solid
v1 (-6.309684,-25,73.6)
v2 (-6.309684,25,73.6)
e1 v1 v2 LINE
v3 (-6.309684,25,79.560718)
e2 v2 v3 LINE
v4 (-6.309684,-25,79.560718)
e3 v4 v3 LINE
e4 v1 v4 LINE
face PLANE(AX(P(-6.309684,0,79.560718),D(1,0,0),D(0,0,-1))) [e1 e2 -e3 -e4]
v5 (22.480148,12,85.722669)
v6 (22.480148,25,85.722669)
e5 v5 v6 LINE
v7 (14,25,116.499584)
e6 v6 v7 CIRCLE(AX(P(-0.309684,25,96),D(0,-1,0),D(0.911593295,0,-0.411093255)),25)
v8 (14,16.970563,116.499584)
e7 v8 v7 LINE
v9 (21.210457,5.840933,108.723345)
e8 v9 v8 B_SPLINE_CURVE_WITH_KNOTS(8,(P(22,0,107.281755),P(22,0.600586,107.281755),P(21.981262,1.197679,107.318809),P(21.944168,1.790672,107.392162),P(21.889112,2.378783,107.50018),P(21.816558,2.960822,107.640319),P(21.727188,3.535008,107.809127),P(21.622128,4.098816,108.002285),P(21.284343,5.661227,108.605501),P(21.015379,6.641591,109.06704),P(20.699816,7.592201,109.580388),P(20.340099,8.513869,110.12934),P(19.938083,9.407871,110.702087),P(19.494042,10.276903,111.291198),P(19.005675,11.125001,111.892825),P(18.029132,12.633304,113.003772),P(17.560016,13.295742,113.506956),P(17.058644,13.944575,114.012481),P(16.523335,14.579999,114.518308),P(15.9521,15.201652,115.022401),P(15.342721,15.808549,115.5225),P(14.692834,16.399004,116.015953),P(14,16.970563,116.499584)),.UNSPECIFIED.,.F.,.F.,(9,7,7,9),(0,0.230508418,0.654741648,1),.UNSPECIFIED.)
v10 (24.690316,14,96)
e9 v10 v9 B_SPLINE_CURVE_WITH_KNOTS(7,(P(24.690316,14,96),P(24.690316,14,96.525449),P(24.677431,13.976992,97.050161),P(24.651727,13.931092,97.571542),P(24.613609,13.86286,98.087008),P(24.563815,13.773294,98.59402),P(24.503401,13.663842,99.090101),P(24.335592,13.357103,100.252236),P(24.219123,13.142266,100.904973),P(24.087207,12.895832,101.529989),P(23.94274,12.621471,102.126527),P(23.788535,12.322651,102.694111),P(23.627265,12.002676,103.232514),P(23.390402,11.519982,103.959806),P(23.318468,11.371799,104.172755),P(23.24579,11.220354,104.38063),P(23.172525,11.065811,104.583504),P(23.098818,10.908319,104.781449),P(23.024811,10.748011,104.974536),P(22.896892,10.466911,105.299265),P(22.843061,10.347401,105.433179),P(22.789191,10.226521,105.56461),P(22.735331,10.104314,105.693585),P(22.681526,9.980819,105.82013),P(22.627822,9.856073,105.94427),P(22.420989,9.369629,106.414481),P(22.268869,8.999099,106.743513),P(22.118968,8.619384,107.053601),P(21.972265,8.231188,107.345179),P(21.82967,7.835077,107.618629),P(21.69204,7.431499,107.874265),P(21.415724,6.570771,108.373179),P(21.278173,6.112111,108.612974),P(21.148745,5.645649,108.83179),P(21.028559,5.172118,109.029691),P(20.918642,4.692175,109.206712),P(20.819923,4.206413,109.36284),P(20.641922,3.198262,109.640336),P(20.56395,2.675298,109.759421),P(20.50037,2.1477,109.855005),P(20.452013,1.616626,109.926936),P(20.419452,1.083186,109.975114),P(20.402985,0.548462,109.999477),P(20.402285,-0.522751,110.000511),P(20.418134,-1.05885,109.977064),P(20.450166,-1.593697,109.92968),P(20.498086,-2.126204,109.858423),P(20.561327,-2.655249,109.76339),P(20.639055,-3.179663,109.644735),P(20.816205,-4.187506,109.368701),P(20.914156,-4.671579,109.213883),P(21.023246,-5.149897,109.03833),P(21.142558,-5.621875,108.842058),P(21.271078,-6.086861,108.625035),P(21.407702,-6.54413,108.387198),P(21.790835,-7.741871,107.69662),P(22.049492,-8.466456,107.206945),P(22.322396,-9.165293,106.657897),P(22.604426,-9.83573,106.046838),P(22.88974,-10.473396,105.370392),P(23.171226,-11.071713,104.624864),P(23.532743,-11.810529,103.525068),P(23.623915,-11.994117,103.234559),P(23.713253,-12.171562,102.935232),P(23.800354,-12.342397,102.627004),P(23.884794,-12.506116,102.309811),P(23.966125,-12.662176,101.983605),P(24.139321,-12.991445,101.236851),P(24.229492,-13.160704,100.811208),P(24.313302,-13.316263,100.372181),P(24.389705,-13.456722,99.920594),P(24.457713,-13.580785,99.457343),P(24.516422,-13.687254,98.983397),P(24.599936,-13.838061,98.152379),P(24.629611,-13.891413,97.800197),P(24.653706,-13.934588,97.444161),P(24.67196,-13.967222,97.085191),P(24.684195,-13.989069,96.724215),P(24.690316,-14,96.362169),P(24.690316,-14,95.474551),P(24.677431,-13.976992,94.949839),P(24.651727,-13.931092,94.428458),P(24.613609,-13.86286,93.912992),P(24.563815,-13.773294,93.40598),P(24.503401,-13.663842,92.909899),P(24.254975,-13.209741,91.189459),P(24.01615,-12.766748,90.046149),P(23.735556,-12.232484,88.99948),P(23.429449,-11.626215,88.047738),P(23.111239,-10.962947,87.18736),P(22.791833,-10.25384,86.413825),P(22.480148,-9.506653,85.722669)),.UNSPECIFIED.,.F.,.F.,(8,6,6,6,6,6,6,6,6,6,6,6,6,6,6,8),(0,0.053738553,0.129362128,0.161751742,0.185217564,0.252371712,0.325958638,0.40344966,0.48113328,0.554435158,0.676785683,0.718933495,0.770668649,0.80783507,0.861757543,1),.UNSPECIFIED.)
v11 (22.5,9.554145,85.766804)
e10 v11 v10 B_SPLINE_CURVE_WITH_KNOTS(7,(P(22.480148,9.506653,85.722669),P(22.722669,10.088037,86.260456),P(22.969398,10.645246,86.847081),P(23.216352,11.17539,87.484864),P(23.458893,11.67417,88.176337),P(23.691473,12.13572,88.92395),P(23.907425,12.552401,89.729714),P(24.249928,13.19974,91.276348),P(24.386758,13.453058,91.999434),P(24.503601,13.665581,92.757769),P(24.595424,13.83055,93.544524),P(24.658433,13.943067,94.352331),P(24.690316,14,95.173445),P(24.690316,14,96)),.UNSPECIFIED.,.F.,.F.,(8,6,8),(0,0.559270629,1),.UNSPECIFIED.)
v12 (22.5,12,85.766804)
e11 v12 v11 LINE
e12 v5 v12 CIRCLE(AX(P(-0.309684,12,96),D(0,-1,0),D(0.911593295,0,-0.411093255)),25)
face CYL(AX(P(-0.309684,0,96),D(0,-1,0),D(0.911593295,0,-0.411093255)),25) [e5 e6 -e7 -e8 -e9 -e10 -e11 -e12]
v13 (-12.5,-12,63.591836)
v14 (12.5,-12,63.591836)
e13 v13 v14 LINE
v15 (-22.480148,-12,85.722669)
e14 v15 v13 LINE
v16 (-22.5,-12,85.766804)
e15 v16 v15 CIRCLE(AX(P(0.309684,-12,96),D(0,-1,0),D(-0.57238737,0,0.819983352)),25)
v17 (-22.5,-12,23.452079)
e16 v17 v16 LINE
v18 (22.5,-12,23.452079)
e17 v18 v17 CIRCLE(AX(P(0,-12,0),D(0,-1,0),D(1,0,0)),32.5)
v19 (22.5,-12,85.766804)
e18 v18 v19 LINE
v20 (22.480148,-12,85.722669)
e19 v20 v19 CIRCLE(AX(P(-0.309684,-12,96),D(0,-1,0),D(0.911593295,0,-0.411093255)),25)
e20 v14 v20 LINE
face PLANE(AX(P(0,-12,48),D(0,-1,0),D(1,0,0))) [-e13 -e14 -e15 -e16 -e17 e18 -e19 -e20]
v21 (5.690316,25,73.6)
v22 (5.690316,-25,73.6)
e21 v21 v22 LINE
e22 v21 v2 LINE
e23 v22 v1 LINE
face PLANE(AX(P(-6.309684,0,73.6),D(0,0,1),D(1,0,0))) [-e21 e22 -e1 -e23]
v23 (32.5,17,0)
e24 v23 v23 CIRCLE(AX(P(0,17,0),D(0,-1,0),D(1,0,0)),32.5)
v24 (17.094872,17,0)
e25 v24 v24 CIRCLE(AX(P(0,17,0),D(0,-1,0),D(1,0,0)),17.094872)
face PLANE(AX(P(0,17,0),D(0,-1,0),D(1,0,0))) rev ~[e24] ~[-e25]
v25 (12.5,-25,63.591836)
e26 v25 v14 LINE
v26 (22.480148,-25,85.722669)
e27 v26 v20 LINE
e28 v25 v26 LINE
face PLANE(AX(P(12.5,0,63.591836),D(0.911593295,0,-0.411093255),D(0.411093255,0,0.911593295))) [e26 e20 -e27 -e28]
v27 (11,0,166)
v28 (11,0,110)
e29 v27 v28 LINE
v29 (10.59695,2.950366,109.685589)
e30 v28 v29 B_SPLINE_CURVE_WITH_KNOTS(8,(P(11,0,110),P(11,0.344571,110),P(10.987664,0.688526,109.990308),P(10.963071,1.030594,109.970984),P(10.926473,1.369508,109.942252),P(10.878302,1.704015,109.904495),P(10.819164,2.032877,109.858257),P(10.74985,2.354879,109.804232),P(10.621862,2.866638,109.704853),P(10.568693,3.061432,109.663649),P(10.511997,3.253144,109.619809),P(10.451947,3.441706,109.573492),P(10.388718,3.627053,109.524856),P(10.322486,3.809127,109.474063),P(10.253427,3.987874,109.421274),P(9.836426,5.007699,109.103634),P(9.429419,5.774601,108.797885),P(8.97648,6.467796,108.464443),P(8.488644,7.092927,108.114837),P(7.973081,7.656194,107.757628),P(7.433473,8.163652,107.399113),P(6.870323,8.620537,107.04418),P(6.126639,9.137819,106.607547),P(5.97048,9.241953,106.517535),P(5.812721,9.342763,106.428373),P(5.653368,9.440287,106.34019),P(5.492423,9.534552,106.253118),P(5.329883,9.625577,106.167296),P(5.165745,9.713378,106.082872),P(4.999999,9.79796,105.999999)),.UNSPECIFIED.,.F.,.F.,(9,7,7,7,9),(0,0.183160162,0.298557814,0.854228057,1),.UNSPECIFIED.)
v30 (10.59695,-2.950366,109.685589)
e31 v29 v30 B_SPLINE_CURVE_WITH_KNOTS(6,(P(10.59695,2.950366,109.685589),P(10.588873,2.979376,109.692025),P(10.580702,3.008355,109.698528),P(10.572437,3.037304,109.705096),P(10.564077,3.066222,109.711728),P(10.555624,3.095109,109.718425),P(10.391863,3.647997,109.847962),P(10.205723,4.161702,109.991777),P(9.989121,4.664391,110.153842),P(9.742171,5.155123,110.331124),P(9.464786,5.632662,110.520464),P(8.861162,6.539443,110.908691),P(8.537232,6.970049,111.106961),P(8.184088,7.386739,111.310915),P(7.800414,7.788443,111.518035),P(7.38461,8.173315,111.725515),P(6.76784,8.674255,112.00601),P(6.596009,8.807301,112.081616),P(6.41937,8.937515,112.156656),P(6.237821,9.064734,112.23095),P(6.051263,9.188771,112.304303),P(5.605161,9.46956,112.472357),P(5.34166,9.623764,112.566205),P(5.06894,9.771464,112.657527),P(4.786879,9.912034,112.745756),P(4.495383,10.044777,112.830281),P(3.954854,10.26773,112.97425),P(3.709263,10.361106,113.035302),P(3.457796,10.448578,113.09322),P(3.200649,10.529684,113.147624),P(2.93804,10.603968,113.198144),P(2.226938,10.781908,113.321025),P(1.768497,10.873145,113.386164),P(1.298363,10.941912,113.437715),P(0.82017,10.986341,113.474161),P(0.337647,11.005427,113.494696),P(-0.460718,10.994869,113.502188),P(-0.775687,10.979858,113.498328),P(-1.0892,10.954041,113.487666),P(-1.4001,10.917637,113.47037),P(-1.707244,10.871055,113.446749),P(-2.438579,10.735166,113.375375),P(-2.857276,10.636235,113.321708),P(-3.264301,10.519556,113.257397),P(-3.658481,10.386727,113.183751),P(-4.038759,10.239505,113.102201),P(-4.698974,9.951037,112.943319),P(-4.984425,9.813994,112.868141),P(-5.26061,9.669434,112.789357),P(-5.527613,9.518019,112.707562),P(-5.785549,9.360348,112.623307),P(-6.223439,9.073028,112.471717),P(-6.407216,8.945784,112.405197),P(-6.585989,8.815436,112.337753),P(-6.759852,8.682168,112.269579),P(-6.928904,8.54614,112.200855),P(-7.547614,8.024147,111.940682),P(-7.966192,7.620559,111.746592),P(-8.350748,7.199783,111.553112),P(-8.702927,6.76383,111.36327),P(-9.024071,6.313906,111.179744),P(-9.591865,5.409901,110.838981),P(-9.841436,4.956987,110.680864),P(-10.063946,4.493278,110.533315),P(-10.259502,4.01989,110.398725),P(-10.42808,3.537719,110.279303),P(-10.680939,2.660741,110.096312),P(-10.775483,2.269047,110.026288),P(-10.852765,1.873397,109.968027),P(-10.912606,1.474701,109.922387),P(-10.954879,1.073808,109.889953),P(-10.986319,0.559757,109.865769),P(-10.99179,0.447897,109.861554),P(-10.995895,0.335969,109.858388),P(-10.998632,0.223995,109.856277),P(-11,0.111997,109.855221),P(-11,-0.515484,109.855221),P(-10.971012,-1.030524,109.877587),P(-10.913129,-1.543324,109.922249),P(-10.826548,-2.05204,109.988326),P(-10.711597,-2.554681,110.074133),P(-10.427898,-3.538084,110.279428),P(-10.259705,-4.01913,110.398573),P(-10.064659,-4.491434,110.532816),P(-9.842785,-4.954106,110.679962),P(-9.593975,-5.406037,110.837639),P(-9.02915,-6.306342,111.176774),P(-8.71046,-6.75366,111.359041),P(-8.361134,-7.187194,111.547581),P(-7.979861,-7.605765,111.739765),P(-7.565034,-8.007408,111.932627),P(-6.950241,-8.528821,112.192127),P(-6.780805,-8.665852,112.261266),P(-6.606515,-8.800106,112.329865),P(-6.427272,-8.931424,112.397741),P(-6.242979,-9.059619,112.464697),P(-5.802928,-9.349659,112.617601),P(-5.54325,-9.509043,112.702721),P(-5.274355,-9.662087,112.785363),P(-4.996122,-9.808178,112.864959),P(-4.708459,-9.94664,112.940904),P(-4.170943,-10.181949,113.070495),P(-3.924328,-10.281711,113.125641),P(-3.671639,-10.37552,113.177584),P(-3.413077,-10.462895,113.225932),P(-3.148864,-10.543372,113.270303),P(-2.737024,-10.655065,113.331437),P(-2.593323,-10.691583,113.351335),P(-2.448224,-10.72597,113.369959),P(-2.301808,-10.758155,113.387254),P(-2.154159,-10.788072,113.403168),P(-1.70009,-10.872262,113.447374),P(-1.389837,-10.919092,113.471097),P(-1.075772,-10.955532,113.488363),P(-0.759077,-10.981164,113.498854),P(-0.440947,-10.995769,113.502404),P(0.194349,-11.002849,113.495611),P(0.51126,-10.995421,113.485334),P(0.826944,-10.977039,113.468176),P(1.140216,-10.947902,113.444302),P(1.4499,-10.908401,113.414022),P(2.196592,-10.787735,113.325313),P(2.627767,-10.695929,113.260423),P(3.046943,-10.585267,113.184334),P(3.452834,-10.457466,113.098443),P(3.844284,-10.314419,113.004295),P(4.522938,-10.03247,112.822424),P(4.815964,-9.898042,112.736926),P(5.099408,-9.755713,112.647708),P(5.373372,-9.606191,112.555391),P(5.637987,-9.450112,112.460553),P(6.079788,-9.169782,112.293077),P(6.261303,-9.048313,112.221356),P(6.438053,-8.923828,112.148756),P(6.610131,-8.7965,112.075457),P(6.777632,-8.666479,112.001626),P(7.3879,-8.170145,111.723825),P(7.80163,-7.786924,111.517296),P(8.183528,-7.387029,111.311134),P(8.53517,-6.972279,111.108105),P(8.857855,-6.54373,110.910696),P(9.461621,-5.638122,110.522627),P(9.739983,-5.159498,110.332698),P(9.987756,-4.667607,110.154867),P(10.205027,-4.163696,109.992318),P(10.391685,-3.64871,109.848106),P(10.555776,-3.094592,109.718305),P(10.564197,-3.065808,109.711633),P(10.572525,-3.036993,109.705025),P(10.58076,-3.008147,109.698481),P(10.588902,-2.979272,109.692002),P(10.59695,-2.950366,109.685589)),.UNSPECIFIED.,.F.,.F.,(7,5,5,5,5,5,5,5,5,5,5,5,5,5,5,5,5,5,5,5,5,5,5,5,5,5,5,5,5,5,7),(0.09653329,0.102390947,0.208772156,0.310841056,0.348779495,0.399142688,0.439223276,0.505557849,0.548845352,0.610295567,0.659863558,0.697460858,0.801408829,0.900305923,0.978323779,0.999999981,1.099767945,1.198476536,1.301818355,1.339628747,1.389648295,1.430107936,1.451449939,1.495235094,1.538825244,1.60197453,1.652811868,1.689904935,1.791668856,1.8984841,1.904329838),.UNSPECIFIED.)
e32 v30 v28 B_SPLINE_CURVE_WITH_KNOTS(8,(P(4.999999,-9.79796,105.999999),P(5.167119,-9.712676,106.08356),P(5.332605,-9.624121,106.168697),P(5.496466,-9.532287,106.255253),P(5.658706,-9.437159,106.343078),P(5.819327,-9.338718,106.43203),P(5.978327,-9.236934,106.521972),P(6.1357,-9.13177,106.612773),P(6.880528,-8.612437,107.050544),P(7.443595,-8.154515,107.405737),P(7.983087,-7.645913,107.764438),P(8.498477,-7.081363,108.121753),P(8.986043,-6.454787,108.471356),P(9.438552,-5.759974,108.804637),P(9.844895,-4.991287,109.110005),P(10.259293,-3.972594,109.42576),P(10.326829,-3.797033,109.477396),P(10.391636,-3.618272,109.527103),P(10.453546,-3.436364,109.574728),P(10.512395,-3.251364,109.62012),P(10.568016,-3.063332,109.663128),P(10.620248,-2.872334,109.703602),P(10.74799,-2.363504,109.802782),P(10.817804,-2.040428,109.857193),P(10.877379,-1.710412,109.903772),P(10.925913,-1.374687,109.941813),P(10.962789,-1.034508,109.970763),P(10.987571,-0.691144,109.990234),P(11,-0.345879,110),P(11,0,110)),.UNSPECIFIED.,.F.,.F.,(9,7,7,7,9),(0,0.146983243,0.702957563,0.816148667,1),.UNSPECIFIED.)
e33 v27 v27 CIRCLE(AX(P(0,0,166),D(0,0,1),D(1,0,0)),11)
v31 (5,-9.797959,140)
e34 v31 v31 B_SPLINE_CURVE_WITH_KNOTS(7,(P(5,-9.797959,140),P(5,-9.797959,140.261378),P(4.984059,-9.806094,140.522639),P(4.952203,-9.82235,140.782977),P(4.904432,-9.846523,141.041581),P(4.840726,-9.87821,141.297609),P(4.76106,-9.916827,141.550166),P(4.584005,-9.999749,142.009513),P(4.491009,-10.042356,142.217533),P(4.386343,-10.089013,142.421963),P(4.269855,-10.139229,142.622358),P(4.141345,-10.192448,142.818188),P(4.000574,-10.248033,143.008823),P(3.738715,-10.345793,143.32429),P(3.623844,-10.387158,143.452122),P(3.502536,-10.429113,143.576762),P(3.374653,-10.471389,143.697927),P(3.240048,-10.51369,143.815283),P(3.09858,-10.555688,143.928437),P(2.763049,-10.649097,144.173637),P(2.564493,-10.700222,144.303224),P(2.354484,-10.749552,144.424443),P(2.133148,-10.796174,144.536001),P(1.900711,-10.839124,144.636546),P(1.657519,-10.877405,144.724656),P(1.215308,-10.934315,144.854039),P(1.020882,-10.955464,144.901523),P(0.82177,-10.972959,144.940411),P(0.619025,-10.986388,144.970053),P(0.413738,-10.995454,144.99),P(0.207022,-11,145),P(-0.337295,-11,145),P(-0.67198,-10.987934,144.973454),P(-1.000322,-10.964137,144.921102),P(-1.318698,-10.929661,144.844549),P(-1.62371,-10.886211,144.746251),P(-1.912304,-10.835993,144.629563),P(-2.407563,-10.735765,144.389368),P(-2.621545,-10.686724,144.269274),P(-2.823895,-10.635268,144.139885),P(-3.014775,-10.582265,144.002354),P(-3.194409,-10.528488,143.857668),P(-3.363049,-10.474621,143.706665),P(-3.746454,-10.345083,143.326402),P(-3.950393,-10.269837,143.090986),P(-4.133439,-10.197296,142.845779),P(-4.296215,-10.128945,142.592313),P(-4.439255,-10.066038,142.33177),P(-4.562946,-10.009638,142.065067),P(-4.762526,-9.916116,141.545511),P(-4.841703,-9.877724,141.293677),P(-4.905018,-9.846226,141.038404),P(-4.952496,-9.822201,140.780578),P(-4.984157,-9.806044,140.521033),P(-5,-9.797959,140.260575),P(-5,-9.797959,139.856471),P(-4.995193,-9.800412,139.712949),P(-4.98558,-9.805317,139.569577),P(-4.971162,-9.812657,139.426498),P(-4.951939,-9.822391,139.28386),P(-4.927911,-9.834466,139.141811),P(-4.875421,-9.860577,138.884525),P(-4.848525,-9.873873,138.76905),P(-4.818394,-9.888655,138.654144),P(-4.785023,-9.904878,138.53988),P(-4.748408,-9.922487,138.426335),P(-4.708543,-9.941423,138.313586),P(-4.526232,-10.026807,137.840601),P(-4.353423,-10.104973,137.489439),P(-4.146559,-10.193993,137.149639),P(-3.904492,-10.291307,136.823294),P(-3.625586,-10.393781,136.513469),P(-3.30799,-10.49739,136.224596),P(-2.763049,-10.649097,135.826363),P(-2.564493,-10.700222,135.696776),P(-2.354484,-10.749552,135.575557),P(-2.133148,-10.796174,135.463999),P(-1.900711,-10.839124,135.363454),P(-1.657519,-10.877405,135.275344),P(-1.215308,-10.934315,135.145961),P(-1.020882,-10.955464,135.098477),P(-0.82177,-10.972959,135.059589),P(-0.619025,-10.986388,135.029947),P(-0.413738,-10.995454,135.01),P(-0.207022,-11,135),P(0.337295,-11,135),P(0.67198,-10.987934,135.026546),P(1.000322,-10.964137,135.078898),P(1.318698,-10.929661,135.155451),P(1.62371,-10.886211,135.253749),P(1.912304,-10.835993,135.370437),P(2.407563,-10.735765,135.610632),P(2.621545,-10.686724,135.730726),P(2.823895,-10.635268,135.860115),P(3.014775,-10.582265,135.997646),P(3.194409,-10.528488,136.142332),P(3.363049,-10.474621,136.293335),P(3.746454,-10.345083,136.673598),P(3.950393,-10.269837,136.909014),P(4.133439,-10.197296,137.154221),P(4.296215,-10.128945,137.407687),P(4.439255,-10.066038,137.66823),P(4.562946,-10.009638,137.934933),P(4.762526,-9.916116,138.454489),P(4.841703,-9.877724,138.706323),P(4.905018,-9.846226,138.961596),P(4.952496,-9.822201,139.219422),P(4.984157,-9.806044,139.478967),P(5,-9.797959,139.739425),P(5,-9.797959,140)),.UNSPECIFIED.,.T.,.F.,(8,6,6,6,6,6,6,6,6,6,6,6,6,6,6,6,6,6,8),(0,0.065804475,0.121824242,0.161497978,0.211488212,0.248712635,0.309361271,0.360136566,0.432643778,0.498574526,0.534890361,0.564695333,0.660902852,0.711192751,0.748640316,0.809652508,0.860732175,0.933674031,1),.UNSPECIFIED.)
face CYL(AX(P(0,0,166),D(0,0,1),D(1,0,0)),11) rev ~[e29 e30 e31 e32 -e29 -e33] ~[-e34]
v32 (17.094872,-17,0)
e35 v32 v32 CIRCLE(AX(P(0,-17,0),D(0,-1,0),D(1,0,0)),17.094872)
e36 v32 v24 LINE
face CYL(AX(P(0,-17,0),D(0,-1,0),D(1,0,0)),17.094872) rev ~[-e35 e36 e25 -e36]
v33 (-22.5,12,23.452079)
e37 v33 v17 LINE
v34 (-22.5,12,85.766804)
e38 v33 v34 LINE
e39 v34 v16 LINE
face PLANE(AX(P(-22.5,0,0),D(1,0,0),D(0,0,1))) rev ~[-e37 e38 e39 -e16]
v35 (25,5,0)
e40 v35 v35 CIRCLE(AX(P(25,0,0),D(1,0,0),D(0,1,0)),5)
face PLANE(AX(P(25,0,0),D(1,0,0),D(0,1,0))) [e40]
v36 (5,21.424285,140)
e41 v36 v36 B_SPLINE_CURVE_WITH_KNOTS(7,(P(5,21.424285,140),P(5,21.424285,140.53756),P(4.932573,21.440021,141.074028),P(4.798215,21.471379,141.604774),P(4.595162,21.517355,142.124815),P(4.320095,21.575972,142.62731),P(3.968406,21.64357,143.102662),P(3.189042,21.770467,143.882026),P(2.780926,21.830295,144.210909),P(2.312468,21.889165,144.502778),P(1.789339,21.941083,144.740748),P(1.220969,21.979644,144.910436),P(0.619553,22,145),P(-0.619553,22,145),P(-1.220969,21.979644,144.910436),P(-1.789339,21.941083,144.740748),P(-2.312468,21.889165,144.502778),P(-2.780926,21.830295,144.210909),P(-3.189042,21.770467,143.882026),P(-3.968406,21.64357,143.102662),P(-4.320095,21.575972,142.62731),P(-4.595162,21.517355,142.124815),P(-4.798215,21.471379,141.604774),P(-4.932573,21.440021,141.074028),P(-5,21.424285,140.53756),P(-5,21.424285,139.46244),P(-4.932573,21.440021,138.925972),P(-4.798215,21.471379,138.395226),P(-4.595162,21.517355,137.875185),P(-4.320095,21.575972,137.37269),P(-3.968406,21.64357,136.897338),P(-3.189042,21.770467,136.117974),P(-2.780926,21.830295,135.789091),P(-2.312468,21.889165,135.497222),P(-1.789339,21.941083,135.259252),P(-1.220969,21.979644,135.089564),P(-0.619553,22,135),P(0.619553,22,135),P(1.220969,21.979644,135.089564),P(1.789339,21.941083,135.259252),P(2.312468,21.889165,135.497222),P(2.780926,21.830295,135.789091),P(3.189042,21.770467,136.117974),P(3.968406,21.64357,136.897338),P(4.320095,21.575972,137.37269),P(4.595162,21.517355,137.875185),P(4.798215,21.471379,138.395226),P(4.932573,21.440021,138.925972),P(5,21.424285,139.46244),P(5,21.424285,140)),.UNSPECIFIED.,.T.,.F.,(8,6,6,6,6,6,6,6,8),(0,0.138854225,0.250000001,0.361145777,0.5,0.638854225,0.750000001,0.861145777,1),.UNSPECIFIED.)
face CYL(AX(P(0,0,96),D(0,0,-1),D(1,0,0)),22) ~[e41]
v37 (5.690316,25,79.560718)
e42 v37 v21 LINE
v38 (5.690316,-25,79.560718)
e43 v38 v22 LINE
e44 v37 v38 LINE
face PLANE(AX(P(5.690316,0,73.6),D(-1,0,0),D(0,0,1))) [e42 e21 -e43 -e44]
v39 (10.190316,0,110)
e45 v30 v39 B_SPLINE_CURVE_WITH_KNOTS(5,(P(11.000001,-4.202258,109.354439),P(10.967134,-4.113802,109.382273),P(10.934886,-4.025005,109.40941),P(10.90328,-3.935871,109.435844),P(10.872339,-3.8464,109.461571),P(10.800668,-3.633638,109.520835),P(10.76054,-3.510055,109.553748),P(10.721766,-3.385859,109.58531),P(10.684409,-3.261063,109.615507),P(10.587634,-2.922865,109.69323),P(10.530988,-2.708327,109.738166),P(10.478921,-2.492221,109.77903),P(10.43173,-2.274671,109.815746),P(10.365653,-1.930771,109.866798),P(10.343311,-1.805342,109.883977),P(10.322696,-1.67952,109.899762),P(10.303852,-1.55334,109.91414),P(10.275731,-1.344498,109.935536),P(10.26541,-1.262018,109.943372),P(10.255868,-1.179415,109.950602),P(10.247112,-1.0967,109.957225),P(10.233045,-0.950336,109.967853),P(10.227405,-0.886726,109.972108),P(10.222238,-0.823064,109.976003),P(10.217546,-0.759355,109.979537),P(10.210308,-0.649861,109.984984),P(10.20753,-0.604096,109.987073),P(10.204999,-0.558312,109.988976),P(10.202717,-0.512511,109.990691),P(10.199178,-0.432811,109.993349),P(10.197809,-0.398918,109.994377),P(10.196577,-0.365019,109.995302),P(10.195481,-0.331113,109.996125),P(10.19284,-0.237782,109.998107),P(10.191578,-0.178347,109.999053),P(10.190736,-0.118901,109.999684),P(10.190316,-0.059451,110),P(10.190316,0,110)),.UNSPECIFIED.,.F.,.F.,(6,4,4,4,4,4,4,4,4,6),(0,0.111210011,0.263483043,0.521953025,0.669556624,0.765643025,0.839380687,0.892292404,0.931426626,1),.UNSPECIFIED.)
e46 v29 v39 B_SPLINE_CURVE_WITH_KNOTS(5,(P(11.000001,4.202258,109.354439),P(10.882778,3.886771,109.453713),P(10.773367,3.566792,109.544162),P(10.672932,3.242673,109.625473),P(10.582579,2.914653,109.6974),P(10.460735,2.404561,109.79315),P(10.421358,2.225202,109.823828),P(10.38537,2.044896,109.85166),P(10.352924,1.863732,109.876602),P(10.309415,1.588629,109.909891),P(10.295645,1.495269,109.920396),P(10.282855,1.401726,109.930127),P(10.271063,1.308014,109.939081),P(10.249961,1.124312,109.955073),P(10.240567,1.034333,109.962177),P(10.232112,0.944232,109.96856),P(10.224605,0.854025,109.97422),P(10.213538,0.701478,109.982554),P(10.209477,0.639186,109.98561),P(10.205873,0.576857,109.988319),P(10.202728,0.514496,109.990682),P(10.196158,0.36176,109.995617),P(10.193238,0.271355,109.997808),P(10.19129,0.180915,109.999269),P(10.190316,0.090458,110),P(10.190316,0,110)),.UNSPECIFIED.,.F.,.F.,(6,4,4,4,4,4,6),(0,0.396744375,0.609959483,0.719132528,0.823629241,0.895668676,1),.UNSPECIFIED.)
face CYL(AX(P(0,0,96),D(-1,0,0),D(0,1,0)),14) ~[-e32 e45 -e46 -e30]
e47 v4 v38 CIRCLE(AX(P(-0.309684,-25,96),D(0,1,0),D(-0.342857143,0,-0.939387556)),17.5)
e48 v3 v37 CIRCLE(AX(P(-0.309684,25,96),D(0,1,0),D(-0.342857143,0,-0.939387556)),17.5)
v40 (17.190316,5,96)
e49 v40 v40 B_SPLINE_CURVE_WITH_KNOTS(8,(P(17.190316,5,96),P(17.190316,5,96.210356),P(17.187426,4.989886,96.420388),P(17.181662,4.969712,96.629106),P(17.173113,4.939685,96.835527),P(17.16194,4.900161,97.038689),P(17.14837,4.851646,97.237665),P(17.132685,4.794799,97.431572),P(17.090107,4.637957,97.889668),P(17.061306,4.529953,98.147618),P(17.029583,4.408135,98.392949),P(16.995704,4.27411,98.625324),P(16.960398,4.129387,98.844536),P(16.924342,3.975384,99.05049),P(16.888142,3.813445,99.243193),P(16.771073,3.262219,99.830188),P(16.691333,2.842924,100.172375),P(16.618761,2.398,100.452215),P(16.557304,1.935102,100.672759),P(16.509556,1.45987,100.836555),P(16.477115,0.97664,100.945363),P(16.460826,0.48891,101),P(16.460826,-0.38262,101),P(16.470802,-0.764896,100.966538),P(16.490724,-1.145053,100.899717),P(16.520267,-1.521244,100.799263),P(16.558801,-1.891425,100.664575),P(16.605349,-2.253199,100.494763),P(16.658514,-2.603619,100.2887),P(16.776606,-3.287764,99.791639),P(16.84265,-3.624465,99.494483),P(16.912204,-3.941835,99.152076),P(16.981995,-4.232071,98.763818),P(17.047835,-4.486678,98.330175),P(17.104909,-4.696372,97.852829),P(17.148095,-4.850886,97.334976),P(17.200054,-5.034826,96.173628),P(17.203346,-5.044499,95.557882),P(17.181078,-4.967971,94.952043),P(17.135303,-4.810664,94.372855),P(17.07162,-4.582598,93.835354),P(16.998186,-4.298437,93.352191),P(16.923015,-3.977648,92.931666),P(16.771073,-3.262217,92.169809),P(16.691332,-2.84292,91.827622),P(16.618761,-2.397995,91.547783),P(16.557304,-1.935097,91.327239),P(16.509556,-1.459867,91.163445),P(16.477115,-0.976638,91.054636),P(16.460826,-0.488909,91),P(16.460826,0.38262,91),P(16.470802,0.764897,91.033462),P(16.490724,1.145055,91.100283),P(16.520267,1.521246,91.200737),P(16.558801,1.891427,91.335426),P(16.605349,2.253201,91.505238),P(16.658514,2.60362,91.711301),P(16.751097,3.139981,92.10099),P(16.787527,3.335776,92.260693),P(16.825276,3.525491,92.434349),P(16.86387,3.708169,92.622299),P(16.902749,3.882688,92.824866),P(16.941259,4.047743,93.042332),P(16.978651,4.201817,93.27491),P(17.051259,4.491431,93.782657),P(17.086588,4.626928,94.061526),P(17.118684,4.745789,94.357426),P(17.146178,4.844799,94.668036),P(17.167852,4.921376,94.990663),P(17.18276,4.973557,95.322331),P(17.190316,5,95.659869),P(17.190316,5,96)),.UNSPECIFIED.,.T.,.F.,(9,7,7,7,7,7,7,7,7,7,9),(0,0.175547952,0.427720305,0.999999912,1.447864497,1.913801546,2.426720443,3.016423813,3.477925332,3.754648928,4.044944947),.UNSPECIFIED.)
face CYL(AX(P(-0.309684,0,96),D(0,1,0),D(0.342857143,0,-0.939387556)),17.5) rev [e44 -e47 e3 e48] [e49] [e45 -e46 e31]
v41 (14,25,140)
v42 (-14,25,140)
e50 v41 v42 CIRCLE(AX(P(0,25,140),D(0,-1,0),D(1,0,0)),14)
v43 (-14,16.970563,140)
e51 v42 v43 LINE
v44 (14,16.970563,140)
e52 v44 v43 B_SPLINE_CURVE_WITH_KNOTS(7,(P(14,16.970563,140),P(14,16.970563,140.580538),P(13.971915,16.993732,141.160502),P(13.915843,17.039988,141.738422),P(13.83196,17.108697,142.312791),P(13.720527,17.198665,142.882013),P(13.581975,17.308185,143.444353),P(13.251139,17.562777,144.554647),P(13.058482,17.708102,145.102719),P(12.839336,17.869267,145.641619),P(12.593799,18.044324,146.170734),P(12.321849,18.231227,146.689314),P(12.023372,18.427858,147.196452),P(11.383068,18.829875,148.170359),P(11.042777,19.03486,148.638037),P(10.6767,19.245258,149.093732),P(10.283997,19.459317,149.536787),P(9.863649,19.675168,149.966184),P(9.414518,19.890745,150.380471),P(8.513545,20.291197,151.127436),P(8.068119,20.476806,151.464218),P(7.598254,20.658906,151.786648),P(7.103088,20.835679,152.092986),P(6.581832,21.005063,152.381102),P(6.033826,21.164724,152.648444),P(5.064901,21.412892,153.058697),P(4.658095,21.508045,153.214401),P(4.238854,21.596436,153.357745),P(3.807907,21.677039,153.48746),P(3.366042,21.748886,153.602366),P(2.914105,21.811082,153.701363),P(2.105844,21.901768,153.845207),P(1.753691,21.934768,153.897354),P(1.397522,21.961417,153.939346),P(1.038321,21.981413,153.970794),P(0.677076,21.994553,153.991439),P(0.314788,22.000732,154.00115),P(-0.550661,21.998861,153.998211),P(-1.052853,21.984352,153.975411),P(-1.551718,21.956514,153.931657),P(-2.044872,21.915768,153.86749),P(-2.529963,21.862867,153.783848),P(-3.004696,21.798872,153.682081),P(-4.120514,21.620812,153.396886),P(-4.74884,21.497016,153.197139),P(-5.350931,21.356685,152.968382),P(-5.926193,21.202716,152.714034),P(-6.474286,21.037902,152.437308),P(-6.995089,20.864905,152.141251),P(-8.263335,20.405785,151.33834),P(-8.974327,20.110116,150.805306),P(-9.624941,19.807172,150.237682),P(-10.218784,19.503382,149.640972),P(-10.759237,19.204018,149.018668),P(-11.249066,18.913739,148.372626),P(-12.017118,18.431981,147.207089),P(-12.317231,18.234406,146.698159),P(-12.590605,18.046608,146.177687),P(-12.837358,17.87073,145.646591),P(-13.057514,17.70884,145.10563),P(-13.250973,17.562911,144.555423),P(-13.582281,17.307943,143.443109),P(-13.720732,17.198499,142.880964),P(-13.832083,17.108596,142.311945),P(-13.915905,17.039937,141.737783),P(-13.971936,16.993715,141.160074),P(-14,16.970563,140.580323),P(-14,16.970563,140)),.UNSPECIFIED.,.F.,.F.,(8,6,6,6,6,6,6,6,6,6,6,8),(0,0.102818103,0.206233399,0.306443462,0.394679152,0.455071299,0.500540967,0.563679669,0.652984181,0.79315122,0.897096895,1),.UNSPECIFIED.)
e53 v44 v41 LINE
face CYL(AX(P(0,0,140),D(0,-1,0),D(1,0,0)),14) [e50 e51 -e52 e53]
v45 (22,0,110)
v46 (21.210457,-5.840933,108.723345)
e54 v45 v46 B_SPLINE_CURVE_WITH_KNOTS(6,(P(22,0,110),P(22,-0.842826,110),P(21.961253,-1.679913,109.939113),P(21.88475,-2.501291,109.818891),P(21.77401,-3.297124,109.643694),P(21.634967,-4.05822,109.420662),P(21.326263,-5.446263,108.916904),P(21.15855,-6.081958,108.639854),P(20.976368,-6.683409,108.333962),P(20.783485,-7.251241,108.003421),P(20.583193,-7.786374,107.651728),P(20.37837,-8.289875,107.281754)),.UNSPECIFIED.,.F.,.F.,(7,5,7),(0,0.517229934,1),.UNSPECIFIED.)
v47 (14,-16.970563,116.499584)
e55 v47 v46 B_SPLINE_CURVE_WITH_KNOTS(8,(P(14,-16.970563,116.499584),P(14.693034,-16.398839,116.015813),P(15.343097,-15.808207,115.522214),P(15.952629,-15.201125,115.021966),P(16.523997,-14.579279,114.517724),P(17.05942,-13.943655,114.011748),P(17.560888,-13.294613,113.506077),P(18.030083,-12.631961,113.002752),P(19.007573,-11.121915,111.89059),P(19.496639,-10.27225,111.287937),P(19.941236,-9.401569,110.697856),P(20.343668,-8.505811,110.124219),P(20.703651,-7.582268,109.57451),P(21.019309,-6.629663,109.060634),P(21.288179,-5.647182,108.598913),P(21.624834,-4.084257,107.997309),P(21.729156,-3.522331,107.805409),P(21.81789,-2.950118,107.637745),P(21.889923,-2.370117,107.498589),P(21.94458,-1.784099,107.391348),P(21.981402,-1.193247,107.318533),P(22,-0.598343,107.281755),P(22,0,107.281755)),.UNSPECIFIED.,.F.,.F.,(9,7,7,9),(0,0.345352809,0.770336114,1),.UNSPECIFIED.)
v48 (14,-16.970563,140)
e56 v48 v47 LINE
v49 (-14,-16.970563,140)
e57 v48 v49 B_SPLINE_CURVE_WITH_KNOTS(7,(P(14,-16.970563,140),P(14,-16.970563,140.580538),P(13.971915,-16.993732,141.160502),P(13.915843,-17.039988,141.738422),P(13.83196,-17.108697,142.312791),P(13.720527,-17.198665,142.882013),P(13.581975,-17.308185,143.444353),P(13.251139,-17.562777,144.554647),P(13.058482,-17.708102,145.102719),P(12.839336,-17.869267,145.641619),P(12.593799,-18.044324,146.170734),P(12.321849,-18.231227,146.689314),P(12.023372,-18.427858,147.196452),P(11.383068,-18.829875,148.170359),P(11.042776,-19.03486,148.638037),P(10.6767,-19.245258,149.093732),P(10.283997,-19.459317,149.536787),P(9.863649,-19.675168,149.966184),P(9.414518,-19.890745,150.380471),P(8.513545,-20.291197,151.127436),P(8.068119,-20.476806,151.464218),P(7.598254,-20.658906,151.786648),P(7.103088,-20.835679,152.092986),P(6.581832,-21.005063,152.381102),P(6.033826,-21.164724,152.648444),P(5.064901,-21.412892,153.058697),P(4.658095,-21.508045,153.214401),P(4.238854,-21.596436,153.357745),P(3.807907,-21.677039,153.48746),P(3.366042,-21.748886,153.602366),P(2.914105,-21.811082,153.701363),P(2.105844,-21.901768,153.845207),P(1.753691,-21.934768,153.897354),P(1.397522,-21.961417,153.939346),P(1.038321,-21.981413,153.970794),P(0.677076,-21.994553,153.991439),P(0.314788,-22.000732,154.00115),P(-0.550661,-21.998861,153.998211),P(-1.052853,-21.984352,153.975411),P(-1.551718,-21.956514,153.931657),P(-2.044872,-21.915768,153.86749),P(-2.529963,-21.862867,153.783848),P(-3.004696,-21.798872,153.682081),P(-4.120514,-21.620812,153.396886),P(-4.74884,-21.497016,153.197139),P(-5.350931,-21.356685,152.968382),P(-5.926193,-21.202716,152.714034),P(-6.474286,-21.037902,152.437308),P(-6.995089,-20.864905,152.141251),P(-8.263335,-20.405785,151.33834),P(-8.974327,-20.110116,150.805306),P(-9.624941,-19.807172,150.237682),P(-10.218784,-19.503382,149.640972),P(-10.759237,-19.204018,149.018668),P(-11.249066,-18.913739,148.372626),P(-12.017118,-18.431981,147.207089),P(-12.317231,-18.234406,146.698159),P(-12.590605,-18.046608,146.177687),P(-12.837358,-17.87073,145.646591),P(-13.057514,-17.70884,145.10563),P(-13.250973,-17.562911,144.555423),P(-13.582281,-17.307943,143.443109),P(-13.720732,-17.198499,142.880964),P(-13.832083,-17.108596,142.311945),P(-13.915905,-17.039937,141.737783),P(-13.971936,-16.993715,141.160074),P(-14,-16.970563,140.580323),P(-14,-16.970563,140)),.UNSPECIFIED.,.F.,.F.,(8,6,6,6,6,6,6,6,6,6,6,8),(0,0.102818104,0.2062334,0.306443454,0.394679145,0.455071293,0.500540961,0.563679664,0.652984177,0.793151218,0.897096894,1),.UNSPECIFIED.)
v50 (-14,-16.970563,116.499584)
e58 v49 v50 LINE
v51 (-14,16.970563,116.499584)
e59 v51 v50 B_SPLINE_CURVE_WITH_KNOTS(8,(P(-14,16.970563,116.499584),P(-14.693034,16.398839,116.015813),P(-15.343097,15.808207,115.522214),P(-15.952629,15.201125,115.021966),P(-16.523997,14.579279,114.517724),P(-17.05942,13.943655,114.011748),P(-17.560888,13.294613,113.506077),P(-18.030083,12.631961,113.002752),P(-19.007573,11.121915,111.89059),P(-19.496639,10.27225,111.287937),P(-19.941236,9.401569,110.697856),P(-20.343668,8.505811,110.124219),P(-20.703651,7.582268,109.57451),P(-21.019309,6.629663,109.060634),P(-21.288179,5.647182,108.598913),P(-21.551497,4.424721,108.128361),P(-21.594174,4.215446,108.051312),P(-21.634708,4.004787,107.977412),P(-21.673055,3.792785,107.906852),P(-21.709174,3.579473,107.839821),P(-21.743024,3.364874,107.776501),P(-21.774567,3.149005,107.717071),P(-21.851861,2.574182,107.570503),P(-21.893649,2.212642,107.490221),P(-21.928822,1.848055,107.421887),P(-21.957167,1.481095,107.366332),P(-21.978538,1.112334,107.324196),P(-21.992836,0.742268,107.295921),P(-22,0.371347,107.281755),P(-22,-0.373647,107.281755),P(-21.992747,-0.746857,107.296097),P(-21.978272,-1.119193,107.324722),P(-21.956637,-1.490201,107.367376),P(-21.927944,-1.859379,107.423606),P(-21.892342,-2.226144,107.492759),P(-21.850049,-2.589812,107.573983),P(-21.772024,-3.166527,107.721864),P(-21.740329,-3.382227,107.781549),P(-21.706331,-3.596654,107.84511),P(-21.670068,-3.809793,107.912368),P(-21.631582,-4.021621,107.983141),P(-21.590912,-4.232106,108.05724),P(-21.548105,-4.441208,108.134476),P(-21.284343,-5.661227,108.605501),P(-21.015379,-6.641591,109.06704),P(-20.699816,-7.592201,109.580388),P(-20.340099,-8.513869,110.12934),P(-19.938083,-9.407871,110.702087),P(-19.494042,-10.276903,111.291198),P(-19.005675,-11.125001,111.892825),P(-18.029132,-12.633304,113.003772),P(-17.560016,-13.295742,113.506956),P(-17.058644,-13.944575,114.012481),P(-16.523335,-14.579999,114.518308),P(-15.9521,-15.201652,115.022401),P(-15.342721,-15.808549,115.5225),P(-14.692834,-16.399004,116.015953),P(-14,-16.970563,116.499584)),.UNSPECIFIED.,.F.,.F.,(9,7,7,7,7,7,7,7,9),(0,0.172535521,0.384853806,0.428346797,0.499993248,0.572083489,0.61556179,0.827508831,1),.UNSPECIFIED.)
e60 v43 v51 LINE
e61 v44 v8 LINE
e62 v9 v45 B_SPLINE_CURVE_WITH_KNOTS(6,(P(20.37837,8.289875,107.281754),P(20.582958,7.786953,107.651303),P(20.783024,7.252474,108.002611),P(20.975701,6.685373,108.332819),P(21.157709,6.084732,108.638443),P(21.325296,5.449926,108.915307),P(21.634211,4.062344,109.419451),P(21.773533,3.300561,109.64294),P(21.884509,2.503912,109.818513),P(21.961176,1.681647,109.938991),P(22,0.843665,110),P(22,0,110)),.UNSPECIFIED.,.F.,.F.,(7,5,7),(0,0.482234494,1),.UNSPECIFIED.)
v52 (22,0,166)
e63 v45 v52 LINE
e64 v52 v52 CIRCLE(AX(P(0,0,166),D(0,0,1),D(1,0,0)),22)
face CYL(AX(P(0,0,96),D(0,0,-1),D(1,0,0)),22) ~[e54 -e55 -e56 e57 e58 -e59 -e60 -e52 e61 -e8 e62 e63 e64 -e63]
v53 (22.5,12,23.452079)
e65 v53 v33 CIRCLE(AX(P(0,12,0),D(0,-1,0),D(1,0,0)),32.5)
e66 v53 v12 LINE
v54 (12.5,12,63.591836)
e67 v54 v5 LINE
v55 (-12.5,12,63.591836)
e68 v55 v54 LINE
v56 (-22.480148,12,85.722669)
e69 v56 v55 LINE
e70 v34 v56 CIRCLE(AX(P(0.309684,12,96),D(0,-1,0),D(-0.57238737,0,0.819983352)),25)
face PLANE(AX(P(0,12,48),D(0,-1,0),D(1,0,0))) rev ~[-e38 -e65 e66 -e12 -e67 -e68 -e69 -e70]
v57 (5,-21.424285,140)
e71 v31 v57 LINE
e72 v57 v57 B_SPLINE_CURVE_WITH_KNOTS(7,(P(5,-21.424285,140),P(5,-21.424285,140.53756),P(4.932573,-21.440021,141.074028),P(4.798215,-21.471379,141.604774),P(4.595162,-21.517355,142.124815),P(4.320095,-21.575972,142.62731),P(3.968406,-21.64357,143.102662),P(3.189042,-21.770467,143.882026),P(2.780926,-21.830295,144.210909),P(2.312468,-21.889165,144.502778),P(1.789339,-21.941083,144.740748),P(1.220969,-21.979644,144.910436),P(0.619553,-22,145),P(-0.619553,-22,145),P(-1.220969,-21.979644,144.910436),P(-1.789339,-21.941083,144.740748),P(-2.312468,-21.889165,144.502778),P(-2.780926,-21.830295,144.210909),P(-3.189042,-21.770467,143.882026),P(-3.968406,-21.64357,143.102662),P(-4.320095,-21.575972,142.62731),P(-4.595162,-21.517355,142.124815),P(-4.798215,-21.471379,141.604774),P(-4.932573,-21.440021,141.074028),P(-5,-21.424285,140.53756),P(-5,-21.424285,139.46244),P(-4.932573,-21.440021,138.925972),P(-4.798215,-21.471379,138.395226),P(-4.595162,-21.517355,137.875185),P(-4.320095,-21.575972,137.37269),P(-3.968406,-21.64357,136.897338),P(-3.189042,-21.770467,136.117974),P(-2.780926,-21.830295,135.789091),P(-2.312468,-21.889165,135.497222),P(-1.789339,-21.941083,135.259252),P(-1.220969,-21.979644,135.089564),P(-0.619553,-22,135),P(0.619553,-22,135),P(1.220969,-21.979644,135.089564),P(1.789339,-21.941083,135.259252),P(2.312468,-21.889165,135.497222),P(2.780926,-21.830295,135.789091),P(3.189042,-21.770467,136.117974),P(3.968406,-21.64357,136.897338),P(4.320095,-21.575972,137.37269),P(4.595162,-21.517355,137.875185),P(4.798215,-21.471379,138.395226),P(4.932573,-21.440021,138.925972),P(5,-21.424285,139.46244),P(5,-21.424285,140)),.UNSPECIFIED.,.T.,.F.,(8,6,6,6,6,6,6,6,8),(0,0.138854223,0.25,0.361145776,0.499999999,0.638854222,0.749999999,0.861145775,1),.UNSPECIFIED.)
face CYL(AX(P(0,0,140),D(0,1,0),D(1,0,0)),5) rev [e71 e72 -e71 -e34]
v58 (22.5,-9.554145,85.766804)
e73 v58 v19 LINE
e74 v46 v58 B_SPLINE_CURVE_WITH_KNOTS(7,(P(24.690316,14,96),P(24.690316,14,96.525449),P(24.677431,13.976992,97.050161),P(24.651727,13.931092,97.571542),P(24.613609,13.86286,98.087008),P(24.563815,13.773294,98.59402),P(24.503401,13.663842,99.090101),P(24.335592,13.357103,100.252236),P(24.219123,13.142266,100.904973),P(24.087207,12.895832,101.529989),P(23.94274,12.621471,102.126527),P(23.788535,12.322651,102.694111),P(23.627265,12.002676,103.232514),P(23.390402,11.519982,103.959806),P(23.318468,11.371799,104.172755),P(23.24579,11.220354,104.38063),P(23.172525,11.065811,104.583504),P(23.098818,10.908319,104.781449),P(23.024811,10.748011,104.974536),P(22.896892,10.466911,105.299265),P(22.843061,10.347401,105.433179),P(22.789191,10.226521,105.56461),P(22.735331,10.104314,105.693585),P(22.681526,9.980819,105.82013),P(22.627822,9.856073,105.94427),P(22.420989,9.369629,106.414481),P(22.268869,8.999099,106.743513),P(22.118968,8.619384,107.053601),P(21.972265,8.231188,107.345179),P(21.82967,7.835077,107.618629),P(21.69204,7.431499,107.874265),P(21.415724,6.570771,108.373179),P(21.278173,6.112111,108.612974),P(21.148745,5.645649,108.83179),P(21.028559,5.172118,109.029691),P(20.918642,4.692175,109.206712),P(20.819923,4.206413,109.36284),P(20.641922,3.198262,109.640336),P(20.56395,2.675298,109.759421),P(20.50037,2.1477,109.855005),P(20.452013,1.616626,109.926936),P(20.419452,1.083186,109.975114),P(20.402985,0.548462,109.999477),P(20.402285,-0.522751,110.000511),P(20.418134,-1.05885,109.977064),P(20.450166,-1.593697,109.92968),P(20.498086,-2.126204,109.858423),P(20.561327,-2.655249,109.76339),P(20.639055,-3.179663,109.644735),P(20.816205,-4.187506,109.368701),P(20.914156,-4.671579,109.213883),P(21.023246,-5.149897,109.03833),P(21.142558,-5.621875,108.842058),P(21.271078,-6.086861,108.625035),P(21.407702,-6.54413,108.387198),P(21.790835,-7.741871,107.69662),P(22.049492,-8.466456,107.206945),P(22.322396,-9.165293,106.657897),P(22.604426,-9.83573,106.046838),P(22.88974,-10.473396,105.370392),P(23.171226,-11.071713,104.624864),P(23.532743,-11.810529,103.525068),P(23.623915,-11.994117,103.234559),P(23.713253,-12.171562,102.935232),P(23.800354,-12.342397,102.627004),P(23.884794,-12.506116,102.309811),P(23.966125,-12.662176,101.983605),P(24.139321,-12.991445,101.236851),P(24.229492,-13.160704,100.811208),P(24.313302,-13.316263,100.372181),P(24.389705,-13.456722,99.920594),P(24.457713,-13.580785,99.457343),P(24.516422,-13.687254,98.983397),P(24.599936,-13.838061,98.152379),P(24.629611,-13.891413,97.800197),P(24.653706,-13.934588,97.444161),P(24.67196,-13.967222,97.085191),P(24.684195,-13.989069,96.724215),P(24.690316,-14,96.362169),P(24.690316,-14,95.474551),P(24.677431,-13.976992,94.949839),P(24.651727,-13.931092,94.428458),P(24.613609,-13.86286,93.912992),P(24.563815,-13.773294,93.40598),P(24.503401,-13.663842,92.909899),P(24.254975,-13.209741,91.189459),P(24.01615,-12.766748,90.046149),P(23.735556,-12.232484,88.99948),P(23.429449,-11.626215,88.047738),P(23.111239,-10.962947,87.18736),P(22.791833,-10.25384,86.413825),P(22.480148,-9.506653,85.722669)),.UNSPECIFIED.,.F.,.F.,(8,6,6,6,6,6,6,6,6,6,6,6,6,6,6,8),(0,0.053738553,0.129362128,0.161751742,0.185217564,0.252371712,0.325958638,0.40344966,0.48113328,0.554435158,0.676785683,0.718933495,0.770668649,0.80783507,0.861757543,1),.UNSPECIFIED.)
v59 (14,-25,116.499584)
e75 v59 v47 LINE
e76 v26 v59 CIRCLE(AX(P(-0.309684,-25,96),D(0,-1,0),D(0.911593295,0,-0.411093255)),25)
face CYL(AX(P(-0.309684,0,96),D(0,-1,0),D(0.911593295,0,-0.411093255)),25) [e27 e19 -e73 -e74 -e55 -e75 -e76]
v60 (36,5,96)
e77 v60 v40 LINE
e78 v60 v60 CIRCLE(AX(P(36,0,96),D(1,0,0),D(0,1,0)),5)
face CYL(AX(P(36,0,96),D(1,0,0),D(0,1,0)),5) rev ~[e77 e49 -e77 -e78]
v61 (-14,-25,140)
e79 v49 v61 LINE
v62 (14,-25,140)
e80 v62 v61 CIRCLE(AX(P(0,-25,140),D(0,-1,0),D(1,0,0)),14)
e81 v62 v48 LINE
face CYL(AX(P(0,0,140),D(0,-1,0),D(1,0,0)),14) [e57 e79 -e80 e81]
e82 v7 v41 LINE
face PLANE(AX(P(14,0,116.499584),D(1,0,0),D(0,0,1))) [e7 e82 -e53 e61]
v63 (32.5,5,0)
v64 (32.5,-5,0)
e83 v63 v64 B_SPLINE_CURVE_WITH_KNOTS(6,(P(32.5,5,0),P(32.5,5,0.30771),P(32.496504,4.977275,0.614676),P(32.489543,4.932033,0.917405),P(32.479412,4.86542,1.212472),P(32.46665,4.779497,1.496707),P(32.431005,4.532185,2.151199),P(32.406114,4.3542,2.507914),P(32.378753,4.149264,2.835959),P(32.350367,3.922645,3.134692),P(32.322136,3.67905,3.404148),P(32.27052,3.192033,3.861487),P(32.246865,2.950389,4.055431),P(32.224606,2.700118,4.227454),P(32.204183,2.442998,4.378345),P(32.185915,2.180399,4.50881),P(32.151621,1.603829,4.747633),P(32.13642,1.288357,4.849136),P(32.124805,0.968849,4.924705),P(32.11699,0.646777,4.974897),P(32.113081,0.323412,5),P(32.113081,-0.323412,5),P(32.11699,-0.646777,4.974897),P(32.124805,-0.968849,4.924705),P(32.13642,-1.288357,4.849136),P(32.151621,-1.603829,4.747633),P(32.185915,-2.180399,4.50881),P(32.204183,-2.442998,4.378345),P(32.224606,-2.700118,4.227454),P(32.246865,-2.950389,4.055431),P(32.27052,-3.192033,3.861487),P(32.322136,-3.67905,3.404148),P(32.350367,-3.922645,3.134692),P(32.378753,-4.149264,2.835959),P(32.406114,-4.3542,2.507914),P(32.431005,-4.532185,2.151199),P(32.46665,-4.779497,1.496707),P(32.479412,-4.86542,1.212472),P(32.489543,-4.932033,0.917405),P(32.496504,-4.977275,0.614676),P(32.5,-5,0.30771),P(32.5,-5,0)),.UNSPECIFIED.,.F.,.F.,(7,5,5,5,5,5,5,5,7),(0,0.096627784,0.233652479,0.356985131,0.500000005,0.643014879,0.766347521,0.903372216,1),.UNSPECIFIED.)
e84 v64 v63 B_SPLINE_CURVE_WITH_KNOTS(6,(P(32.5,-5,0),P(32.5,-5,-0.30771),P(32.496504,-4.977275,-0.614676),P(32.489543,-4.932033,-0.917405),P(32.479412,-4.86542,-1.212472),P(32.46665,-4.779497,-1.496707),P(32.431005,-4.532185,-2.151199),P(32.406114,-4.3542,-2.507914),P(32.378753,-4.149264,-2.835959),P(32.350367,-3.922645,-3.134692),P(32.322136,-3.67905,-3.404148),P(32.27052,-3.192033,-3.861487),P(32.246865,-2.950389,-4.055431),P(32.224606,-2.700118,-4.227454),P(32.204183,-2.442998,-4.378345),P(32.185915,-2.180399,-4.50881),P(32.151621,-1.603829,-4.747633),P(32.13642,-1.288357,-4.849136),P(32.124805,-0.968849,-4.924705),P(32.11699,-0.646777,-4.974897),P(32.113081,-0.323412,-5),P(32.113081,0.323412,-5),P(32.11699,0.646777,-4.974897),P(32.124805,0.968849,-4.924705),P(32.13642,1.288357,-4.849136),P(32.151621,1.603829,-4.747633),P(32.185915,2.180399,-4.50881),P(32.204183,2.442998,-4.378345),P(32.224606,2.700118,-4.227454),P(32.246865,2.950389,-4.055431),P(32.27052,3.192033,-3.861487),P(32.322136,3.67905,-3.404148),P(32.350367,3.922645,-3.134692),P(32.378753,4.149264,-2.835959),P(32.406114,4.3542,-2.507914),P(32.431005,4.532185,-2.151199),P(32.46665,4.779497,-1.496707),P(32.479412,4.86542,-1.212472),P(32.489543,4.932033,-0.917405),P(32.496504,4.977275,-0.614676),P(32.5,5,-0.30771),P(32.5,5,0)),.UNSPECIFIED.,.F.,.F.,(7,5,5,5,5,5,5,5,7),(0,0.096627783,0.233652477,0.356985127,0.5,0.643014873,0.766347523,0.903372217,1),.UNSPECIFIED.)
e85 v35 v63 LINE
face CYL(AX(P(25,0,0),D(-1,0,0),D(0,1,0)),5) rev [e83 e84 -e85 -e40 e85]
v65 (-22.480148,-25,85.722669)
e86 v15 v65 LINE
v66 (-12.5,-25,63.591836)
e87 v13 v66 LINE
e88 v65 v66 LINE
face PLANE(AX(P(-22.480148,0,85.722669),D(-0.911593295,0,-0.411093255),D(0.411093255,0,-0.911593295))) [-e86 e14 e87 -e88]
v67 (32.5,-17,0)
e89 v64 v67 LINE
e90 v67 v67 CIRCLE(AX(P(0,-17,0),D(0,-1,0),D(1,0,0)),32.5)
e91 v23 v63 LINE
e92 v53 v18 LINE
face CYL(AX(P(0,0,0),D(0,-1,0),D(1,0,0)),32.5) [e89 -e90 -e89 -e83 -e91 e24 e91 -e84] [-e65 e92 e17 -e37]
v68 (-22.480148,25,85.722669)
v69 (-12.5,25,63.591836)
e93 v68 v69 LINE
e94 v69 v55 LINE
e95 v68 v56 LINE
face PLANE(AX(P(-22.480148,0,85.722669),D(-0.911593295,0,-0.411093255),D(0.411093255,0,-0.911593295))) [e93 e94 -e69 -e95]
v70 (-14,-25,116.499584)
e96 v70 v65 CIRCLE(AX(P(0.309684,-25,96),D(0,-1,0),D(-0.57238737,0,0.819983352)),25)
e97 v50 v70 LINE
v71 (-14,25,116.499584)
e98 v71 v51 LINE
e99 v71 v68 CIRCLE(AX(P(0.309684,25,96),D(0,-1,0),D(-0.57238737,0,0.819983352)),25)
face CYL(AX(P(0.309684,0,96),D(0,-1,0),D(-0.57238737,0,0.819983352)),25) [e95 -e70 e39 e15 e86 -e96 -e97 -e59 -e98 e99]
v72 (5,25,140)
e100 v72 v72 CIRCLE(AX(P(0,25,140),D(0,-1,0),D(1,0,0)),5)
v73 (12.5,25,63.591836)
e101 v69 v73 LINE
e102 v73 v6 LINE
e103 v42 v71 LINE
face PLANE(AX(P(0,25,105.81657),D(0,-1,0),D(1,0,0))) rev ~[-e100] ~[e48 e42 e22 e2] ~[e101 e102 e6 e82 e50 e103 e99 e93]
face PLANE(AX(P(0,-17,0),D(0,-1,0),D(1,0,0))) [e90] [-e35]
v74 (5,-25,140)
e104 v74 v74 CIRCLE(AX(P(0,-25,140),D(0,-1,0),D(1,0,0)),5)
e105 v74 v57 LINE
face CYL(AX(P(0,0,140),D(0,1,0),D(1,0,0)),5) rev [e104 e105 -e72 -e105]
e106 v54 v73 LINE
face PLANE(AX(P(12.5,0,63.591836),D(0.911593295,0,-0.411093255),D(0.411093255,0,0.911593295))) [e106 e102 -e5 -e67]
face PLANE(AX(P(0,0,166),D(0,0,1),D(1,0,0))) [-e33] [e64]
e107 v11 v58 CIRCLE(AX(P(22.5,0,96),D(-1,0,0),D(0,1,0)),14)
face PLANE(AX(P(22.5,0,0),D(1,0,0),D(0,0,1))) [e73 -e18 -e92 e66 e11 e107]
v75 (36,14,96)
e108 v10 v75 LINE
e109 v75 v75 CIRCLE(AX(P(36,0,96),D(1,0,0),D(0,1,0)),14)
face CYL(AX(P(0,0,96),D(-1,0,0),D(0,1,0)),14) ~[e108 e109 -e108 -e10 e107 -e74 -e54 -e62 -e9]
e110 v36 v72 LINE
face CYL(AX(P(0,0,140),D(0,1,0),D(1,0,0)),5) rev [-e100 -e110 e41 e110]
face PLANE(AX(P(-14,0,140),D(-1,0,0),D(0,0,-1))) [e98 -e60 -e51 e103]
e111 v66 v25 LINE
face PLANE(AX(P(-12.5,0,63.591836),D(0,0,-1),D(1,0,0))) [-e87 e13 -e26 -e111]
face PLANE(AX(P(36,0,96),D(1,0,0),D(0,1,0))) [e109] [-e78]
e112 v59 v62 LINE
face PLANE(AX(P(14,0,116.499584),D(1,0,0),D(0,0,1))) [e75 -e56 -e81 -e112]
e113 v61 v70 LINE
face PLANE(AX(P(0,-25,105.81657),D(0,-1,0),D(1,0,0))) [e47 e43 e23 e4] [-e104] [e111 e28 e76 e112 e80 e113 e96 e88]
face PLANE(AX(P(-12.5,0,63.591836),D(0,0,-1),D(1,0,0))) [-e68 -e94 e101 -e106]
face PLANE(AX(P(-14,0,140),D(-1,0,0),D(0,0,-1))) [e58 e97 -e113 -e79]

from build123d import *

# Parameters (mm, degrees)
F0_W           = 45
F0_H           = 96
F1_DEPTH       = 12
F2_R           = 32.5
F3_DEPTH       = 17
F4_R           = 5
F5_DEPTH       = 25
F6_R           = 17.0948723133
F7_DEPTH       = 42.001
F9_START       = 25
F8_R           = 5
F9_DEPTH       = 75
F10_R          = 22
F11_DEPTH      = 70
F12_R          = 11
F13_DEPTH      = 60
F14_R          = 14
F15_DEPTH      = 36
F16_R          = 5
F17_DEPTH      = 25
F19_DEPTH      = 25.0010001
F19_DEPTH_BACK = 25
F20_R          = 5
F21_DEPTH      = 25.0010001


with BuildPart() as f1:
    # F0 (on Front) → F1 (new body, symmetric)
    with BuildSketch(Plane.XZ):
        with Locations((0, 48)):
            Rectangle(F0_W, F0_H)
    extrude(amount=F1_DEPTH, both=True)

    # F2 (on Front) → F3 (join, symmetric)
    with BuildSketch(Plane.XZ):
        Circle(F2_R)
    extrude(amount=F3_DEPTH, both=True)

    # F4 (on Front) → F5 (join, symmetric)
    with BuildSketch(Plane.XZ):
        with BuildLine():
            ThreePointArc((14, 140), (0, 154), (-14, 140))
            Line((-14, 140), (-14, 116.4995838087))
            ThreePointArc((-14, 116.4995838087), (-23.792144731, 102.6409215632), (-22.4801481153, 85.7226686231))
            Line((-22.4801481153, 85.7226686231), (-12.5, 63.5918357929))
            Line((-12.5, 63.5918357929), (12.5, 63.5918357929))
            Line((12.5, 63.5918357929), (22.4801481153, 85.7226686231))
            ThreePointArc((22.4801481153, 85.7226686231), (23.792144731, 102.6409215632), (14, 116.4995838087))
            Line((14, 116.4995838087), (14, 140))
        make_face()
        with BuildLine():
            Line((-6.3096842617, 73.6), (-6.3096842617, 79.5607177772))
            ThreePointArc((-6.3096842617, 79.5607177772), (-0.3096842617, 113.5), (5.6903157383, 79.5607177772))
            Line((5.6903157383, 79.5607177772), (5.6903157383, 73.6))
            Line((5.6903157383, 73.6), (-6.3096842617, 73.6))
        make_face(mode=Mode.SUBTRACT)
        with Locations((0, 140)):
            Circle(F4_R, mode=Mode.SUBTRACT)
    extrude(amount=F5_DEPTH, both=True)

    # F6 (on face) → F7 (cut, through all)
    with BuildSketch(Plane.XZ.offset(17)):
        Circle(F6_R)
    extrude(amount=-F7_DEPTH, mode=Mode.SUBTRACT)

    # F8 (on Right) → F9 (cut)
    with BuildSketch(Plane.YZ.offset(F9_START)):
        Circle(F8_R)
    extrude(amount=F9_DEPTH, mode=Mode.SUBTRACT)

    # F10 (on face) → F11 (join)
    with BuildSketch(Plane.XY.offset(96)):
        Circle(F10_R)
    extrude(amount=F11_DEPTH)

    # F12 (on face) → F13 (cut)
    with BuildSketch(Plane.XY.offset(166)):
        Circle(F12_R)
    extrude(amount=-F13_DEPTH, mode=Mode.SUBTRACT)

    # F14 (on Right) → F15 (join)
    with BuildSketch(Plane.YZ):
        with Locations((0, 96)):
            Circle(F14_R)
    extrude(amount=F15_DEPTH)

    # F16 (on face) → F17 (cut)
    with BuildSketch(Plane.YZ.offset(36)):
        with Locations((0, 96)):
            Circle(F16_R)
    extrude(amount=-F17_DEPTH, mode=Mode.SUBTRACT)

    # F18 (on Front) → F19 (cut, two sides)
    with BuildSketch(Plane.XZ) as f19_sk:
        with BuildLine():
            ThreePointArc((5.6903157383, 79.5607177772), (14.029946138, 85.9687986761), (17.1903157383, 96))
            ThreePointArc((17.1903157383, 96), (-10.3408855855, 110.3396303997), (-6.3096842617, 79.5607177772))
            Line((-6.3096842617, 79.5607177772), (5.6903157383, 79.5607177772))
        make_face()
        with BuildLine():
            Line((5.6903157383, 79.5607177772), (-6.3096842617, 79.5607177772))
            ThreePointArc((-6.3096842617, 79.5607177772), (-0.3096842617, 78.5), (5.6903157383, 79.5607177772))
        make_face()
        with BuildLine():
            ThreePointArc((5.6903157383, 79.5607177772), (-0.3096842617, 78.5), (-6.3096842617, 79.5607177772))
            Line((-6.3096842617, 79.5607177772), (-6.3096842617, 73.6))
            Line((-6.3096842617, 73.6), (5.6903157383, 73.6))
            Line((5.6903157383, 73.6), (5.6903157383, 79.5607177772))
        make_face()
    extrude(amount=-F19_DEPTH, mode=Mode.SUBTRACT)
    extrude(f19_sk.sketch, amount=F19_DEPTH_BACK, mode=Mode.SUBTRACT)

    # F20 (on Front) → F21 (cut, through all)
    with BuildSketch(Plane.XZ):
        with Locations((0, 140)):
            Circle(F20_R)
    extrude(amount=F21_DEPTH, mode=Mode.SUBTRACT)


solid = f1.part
